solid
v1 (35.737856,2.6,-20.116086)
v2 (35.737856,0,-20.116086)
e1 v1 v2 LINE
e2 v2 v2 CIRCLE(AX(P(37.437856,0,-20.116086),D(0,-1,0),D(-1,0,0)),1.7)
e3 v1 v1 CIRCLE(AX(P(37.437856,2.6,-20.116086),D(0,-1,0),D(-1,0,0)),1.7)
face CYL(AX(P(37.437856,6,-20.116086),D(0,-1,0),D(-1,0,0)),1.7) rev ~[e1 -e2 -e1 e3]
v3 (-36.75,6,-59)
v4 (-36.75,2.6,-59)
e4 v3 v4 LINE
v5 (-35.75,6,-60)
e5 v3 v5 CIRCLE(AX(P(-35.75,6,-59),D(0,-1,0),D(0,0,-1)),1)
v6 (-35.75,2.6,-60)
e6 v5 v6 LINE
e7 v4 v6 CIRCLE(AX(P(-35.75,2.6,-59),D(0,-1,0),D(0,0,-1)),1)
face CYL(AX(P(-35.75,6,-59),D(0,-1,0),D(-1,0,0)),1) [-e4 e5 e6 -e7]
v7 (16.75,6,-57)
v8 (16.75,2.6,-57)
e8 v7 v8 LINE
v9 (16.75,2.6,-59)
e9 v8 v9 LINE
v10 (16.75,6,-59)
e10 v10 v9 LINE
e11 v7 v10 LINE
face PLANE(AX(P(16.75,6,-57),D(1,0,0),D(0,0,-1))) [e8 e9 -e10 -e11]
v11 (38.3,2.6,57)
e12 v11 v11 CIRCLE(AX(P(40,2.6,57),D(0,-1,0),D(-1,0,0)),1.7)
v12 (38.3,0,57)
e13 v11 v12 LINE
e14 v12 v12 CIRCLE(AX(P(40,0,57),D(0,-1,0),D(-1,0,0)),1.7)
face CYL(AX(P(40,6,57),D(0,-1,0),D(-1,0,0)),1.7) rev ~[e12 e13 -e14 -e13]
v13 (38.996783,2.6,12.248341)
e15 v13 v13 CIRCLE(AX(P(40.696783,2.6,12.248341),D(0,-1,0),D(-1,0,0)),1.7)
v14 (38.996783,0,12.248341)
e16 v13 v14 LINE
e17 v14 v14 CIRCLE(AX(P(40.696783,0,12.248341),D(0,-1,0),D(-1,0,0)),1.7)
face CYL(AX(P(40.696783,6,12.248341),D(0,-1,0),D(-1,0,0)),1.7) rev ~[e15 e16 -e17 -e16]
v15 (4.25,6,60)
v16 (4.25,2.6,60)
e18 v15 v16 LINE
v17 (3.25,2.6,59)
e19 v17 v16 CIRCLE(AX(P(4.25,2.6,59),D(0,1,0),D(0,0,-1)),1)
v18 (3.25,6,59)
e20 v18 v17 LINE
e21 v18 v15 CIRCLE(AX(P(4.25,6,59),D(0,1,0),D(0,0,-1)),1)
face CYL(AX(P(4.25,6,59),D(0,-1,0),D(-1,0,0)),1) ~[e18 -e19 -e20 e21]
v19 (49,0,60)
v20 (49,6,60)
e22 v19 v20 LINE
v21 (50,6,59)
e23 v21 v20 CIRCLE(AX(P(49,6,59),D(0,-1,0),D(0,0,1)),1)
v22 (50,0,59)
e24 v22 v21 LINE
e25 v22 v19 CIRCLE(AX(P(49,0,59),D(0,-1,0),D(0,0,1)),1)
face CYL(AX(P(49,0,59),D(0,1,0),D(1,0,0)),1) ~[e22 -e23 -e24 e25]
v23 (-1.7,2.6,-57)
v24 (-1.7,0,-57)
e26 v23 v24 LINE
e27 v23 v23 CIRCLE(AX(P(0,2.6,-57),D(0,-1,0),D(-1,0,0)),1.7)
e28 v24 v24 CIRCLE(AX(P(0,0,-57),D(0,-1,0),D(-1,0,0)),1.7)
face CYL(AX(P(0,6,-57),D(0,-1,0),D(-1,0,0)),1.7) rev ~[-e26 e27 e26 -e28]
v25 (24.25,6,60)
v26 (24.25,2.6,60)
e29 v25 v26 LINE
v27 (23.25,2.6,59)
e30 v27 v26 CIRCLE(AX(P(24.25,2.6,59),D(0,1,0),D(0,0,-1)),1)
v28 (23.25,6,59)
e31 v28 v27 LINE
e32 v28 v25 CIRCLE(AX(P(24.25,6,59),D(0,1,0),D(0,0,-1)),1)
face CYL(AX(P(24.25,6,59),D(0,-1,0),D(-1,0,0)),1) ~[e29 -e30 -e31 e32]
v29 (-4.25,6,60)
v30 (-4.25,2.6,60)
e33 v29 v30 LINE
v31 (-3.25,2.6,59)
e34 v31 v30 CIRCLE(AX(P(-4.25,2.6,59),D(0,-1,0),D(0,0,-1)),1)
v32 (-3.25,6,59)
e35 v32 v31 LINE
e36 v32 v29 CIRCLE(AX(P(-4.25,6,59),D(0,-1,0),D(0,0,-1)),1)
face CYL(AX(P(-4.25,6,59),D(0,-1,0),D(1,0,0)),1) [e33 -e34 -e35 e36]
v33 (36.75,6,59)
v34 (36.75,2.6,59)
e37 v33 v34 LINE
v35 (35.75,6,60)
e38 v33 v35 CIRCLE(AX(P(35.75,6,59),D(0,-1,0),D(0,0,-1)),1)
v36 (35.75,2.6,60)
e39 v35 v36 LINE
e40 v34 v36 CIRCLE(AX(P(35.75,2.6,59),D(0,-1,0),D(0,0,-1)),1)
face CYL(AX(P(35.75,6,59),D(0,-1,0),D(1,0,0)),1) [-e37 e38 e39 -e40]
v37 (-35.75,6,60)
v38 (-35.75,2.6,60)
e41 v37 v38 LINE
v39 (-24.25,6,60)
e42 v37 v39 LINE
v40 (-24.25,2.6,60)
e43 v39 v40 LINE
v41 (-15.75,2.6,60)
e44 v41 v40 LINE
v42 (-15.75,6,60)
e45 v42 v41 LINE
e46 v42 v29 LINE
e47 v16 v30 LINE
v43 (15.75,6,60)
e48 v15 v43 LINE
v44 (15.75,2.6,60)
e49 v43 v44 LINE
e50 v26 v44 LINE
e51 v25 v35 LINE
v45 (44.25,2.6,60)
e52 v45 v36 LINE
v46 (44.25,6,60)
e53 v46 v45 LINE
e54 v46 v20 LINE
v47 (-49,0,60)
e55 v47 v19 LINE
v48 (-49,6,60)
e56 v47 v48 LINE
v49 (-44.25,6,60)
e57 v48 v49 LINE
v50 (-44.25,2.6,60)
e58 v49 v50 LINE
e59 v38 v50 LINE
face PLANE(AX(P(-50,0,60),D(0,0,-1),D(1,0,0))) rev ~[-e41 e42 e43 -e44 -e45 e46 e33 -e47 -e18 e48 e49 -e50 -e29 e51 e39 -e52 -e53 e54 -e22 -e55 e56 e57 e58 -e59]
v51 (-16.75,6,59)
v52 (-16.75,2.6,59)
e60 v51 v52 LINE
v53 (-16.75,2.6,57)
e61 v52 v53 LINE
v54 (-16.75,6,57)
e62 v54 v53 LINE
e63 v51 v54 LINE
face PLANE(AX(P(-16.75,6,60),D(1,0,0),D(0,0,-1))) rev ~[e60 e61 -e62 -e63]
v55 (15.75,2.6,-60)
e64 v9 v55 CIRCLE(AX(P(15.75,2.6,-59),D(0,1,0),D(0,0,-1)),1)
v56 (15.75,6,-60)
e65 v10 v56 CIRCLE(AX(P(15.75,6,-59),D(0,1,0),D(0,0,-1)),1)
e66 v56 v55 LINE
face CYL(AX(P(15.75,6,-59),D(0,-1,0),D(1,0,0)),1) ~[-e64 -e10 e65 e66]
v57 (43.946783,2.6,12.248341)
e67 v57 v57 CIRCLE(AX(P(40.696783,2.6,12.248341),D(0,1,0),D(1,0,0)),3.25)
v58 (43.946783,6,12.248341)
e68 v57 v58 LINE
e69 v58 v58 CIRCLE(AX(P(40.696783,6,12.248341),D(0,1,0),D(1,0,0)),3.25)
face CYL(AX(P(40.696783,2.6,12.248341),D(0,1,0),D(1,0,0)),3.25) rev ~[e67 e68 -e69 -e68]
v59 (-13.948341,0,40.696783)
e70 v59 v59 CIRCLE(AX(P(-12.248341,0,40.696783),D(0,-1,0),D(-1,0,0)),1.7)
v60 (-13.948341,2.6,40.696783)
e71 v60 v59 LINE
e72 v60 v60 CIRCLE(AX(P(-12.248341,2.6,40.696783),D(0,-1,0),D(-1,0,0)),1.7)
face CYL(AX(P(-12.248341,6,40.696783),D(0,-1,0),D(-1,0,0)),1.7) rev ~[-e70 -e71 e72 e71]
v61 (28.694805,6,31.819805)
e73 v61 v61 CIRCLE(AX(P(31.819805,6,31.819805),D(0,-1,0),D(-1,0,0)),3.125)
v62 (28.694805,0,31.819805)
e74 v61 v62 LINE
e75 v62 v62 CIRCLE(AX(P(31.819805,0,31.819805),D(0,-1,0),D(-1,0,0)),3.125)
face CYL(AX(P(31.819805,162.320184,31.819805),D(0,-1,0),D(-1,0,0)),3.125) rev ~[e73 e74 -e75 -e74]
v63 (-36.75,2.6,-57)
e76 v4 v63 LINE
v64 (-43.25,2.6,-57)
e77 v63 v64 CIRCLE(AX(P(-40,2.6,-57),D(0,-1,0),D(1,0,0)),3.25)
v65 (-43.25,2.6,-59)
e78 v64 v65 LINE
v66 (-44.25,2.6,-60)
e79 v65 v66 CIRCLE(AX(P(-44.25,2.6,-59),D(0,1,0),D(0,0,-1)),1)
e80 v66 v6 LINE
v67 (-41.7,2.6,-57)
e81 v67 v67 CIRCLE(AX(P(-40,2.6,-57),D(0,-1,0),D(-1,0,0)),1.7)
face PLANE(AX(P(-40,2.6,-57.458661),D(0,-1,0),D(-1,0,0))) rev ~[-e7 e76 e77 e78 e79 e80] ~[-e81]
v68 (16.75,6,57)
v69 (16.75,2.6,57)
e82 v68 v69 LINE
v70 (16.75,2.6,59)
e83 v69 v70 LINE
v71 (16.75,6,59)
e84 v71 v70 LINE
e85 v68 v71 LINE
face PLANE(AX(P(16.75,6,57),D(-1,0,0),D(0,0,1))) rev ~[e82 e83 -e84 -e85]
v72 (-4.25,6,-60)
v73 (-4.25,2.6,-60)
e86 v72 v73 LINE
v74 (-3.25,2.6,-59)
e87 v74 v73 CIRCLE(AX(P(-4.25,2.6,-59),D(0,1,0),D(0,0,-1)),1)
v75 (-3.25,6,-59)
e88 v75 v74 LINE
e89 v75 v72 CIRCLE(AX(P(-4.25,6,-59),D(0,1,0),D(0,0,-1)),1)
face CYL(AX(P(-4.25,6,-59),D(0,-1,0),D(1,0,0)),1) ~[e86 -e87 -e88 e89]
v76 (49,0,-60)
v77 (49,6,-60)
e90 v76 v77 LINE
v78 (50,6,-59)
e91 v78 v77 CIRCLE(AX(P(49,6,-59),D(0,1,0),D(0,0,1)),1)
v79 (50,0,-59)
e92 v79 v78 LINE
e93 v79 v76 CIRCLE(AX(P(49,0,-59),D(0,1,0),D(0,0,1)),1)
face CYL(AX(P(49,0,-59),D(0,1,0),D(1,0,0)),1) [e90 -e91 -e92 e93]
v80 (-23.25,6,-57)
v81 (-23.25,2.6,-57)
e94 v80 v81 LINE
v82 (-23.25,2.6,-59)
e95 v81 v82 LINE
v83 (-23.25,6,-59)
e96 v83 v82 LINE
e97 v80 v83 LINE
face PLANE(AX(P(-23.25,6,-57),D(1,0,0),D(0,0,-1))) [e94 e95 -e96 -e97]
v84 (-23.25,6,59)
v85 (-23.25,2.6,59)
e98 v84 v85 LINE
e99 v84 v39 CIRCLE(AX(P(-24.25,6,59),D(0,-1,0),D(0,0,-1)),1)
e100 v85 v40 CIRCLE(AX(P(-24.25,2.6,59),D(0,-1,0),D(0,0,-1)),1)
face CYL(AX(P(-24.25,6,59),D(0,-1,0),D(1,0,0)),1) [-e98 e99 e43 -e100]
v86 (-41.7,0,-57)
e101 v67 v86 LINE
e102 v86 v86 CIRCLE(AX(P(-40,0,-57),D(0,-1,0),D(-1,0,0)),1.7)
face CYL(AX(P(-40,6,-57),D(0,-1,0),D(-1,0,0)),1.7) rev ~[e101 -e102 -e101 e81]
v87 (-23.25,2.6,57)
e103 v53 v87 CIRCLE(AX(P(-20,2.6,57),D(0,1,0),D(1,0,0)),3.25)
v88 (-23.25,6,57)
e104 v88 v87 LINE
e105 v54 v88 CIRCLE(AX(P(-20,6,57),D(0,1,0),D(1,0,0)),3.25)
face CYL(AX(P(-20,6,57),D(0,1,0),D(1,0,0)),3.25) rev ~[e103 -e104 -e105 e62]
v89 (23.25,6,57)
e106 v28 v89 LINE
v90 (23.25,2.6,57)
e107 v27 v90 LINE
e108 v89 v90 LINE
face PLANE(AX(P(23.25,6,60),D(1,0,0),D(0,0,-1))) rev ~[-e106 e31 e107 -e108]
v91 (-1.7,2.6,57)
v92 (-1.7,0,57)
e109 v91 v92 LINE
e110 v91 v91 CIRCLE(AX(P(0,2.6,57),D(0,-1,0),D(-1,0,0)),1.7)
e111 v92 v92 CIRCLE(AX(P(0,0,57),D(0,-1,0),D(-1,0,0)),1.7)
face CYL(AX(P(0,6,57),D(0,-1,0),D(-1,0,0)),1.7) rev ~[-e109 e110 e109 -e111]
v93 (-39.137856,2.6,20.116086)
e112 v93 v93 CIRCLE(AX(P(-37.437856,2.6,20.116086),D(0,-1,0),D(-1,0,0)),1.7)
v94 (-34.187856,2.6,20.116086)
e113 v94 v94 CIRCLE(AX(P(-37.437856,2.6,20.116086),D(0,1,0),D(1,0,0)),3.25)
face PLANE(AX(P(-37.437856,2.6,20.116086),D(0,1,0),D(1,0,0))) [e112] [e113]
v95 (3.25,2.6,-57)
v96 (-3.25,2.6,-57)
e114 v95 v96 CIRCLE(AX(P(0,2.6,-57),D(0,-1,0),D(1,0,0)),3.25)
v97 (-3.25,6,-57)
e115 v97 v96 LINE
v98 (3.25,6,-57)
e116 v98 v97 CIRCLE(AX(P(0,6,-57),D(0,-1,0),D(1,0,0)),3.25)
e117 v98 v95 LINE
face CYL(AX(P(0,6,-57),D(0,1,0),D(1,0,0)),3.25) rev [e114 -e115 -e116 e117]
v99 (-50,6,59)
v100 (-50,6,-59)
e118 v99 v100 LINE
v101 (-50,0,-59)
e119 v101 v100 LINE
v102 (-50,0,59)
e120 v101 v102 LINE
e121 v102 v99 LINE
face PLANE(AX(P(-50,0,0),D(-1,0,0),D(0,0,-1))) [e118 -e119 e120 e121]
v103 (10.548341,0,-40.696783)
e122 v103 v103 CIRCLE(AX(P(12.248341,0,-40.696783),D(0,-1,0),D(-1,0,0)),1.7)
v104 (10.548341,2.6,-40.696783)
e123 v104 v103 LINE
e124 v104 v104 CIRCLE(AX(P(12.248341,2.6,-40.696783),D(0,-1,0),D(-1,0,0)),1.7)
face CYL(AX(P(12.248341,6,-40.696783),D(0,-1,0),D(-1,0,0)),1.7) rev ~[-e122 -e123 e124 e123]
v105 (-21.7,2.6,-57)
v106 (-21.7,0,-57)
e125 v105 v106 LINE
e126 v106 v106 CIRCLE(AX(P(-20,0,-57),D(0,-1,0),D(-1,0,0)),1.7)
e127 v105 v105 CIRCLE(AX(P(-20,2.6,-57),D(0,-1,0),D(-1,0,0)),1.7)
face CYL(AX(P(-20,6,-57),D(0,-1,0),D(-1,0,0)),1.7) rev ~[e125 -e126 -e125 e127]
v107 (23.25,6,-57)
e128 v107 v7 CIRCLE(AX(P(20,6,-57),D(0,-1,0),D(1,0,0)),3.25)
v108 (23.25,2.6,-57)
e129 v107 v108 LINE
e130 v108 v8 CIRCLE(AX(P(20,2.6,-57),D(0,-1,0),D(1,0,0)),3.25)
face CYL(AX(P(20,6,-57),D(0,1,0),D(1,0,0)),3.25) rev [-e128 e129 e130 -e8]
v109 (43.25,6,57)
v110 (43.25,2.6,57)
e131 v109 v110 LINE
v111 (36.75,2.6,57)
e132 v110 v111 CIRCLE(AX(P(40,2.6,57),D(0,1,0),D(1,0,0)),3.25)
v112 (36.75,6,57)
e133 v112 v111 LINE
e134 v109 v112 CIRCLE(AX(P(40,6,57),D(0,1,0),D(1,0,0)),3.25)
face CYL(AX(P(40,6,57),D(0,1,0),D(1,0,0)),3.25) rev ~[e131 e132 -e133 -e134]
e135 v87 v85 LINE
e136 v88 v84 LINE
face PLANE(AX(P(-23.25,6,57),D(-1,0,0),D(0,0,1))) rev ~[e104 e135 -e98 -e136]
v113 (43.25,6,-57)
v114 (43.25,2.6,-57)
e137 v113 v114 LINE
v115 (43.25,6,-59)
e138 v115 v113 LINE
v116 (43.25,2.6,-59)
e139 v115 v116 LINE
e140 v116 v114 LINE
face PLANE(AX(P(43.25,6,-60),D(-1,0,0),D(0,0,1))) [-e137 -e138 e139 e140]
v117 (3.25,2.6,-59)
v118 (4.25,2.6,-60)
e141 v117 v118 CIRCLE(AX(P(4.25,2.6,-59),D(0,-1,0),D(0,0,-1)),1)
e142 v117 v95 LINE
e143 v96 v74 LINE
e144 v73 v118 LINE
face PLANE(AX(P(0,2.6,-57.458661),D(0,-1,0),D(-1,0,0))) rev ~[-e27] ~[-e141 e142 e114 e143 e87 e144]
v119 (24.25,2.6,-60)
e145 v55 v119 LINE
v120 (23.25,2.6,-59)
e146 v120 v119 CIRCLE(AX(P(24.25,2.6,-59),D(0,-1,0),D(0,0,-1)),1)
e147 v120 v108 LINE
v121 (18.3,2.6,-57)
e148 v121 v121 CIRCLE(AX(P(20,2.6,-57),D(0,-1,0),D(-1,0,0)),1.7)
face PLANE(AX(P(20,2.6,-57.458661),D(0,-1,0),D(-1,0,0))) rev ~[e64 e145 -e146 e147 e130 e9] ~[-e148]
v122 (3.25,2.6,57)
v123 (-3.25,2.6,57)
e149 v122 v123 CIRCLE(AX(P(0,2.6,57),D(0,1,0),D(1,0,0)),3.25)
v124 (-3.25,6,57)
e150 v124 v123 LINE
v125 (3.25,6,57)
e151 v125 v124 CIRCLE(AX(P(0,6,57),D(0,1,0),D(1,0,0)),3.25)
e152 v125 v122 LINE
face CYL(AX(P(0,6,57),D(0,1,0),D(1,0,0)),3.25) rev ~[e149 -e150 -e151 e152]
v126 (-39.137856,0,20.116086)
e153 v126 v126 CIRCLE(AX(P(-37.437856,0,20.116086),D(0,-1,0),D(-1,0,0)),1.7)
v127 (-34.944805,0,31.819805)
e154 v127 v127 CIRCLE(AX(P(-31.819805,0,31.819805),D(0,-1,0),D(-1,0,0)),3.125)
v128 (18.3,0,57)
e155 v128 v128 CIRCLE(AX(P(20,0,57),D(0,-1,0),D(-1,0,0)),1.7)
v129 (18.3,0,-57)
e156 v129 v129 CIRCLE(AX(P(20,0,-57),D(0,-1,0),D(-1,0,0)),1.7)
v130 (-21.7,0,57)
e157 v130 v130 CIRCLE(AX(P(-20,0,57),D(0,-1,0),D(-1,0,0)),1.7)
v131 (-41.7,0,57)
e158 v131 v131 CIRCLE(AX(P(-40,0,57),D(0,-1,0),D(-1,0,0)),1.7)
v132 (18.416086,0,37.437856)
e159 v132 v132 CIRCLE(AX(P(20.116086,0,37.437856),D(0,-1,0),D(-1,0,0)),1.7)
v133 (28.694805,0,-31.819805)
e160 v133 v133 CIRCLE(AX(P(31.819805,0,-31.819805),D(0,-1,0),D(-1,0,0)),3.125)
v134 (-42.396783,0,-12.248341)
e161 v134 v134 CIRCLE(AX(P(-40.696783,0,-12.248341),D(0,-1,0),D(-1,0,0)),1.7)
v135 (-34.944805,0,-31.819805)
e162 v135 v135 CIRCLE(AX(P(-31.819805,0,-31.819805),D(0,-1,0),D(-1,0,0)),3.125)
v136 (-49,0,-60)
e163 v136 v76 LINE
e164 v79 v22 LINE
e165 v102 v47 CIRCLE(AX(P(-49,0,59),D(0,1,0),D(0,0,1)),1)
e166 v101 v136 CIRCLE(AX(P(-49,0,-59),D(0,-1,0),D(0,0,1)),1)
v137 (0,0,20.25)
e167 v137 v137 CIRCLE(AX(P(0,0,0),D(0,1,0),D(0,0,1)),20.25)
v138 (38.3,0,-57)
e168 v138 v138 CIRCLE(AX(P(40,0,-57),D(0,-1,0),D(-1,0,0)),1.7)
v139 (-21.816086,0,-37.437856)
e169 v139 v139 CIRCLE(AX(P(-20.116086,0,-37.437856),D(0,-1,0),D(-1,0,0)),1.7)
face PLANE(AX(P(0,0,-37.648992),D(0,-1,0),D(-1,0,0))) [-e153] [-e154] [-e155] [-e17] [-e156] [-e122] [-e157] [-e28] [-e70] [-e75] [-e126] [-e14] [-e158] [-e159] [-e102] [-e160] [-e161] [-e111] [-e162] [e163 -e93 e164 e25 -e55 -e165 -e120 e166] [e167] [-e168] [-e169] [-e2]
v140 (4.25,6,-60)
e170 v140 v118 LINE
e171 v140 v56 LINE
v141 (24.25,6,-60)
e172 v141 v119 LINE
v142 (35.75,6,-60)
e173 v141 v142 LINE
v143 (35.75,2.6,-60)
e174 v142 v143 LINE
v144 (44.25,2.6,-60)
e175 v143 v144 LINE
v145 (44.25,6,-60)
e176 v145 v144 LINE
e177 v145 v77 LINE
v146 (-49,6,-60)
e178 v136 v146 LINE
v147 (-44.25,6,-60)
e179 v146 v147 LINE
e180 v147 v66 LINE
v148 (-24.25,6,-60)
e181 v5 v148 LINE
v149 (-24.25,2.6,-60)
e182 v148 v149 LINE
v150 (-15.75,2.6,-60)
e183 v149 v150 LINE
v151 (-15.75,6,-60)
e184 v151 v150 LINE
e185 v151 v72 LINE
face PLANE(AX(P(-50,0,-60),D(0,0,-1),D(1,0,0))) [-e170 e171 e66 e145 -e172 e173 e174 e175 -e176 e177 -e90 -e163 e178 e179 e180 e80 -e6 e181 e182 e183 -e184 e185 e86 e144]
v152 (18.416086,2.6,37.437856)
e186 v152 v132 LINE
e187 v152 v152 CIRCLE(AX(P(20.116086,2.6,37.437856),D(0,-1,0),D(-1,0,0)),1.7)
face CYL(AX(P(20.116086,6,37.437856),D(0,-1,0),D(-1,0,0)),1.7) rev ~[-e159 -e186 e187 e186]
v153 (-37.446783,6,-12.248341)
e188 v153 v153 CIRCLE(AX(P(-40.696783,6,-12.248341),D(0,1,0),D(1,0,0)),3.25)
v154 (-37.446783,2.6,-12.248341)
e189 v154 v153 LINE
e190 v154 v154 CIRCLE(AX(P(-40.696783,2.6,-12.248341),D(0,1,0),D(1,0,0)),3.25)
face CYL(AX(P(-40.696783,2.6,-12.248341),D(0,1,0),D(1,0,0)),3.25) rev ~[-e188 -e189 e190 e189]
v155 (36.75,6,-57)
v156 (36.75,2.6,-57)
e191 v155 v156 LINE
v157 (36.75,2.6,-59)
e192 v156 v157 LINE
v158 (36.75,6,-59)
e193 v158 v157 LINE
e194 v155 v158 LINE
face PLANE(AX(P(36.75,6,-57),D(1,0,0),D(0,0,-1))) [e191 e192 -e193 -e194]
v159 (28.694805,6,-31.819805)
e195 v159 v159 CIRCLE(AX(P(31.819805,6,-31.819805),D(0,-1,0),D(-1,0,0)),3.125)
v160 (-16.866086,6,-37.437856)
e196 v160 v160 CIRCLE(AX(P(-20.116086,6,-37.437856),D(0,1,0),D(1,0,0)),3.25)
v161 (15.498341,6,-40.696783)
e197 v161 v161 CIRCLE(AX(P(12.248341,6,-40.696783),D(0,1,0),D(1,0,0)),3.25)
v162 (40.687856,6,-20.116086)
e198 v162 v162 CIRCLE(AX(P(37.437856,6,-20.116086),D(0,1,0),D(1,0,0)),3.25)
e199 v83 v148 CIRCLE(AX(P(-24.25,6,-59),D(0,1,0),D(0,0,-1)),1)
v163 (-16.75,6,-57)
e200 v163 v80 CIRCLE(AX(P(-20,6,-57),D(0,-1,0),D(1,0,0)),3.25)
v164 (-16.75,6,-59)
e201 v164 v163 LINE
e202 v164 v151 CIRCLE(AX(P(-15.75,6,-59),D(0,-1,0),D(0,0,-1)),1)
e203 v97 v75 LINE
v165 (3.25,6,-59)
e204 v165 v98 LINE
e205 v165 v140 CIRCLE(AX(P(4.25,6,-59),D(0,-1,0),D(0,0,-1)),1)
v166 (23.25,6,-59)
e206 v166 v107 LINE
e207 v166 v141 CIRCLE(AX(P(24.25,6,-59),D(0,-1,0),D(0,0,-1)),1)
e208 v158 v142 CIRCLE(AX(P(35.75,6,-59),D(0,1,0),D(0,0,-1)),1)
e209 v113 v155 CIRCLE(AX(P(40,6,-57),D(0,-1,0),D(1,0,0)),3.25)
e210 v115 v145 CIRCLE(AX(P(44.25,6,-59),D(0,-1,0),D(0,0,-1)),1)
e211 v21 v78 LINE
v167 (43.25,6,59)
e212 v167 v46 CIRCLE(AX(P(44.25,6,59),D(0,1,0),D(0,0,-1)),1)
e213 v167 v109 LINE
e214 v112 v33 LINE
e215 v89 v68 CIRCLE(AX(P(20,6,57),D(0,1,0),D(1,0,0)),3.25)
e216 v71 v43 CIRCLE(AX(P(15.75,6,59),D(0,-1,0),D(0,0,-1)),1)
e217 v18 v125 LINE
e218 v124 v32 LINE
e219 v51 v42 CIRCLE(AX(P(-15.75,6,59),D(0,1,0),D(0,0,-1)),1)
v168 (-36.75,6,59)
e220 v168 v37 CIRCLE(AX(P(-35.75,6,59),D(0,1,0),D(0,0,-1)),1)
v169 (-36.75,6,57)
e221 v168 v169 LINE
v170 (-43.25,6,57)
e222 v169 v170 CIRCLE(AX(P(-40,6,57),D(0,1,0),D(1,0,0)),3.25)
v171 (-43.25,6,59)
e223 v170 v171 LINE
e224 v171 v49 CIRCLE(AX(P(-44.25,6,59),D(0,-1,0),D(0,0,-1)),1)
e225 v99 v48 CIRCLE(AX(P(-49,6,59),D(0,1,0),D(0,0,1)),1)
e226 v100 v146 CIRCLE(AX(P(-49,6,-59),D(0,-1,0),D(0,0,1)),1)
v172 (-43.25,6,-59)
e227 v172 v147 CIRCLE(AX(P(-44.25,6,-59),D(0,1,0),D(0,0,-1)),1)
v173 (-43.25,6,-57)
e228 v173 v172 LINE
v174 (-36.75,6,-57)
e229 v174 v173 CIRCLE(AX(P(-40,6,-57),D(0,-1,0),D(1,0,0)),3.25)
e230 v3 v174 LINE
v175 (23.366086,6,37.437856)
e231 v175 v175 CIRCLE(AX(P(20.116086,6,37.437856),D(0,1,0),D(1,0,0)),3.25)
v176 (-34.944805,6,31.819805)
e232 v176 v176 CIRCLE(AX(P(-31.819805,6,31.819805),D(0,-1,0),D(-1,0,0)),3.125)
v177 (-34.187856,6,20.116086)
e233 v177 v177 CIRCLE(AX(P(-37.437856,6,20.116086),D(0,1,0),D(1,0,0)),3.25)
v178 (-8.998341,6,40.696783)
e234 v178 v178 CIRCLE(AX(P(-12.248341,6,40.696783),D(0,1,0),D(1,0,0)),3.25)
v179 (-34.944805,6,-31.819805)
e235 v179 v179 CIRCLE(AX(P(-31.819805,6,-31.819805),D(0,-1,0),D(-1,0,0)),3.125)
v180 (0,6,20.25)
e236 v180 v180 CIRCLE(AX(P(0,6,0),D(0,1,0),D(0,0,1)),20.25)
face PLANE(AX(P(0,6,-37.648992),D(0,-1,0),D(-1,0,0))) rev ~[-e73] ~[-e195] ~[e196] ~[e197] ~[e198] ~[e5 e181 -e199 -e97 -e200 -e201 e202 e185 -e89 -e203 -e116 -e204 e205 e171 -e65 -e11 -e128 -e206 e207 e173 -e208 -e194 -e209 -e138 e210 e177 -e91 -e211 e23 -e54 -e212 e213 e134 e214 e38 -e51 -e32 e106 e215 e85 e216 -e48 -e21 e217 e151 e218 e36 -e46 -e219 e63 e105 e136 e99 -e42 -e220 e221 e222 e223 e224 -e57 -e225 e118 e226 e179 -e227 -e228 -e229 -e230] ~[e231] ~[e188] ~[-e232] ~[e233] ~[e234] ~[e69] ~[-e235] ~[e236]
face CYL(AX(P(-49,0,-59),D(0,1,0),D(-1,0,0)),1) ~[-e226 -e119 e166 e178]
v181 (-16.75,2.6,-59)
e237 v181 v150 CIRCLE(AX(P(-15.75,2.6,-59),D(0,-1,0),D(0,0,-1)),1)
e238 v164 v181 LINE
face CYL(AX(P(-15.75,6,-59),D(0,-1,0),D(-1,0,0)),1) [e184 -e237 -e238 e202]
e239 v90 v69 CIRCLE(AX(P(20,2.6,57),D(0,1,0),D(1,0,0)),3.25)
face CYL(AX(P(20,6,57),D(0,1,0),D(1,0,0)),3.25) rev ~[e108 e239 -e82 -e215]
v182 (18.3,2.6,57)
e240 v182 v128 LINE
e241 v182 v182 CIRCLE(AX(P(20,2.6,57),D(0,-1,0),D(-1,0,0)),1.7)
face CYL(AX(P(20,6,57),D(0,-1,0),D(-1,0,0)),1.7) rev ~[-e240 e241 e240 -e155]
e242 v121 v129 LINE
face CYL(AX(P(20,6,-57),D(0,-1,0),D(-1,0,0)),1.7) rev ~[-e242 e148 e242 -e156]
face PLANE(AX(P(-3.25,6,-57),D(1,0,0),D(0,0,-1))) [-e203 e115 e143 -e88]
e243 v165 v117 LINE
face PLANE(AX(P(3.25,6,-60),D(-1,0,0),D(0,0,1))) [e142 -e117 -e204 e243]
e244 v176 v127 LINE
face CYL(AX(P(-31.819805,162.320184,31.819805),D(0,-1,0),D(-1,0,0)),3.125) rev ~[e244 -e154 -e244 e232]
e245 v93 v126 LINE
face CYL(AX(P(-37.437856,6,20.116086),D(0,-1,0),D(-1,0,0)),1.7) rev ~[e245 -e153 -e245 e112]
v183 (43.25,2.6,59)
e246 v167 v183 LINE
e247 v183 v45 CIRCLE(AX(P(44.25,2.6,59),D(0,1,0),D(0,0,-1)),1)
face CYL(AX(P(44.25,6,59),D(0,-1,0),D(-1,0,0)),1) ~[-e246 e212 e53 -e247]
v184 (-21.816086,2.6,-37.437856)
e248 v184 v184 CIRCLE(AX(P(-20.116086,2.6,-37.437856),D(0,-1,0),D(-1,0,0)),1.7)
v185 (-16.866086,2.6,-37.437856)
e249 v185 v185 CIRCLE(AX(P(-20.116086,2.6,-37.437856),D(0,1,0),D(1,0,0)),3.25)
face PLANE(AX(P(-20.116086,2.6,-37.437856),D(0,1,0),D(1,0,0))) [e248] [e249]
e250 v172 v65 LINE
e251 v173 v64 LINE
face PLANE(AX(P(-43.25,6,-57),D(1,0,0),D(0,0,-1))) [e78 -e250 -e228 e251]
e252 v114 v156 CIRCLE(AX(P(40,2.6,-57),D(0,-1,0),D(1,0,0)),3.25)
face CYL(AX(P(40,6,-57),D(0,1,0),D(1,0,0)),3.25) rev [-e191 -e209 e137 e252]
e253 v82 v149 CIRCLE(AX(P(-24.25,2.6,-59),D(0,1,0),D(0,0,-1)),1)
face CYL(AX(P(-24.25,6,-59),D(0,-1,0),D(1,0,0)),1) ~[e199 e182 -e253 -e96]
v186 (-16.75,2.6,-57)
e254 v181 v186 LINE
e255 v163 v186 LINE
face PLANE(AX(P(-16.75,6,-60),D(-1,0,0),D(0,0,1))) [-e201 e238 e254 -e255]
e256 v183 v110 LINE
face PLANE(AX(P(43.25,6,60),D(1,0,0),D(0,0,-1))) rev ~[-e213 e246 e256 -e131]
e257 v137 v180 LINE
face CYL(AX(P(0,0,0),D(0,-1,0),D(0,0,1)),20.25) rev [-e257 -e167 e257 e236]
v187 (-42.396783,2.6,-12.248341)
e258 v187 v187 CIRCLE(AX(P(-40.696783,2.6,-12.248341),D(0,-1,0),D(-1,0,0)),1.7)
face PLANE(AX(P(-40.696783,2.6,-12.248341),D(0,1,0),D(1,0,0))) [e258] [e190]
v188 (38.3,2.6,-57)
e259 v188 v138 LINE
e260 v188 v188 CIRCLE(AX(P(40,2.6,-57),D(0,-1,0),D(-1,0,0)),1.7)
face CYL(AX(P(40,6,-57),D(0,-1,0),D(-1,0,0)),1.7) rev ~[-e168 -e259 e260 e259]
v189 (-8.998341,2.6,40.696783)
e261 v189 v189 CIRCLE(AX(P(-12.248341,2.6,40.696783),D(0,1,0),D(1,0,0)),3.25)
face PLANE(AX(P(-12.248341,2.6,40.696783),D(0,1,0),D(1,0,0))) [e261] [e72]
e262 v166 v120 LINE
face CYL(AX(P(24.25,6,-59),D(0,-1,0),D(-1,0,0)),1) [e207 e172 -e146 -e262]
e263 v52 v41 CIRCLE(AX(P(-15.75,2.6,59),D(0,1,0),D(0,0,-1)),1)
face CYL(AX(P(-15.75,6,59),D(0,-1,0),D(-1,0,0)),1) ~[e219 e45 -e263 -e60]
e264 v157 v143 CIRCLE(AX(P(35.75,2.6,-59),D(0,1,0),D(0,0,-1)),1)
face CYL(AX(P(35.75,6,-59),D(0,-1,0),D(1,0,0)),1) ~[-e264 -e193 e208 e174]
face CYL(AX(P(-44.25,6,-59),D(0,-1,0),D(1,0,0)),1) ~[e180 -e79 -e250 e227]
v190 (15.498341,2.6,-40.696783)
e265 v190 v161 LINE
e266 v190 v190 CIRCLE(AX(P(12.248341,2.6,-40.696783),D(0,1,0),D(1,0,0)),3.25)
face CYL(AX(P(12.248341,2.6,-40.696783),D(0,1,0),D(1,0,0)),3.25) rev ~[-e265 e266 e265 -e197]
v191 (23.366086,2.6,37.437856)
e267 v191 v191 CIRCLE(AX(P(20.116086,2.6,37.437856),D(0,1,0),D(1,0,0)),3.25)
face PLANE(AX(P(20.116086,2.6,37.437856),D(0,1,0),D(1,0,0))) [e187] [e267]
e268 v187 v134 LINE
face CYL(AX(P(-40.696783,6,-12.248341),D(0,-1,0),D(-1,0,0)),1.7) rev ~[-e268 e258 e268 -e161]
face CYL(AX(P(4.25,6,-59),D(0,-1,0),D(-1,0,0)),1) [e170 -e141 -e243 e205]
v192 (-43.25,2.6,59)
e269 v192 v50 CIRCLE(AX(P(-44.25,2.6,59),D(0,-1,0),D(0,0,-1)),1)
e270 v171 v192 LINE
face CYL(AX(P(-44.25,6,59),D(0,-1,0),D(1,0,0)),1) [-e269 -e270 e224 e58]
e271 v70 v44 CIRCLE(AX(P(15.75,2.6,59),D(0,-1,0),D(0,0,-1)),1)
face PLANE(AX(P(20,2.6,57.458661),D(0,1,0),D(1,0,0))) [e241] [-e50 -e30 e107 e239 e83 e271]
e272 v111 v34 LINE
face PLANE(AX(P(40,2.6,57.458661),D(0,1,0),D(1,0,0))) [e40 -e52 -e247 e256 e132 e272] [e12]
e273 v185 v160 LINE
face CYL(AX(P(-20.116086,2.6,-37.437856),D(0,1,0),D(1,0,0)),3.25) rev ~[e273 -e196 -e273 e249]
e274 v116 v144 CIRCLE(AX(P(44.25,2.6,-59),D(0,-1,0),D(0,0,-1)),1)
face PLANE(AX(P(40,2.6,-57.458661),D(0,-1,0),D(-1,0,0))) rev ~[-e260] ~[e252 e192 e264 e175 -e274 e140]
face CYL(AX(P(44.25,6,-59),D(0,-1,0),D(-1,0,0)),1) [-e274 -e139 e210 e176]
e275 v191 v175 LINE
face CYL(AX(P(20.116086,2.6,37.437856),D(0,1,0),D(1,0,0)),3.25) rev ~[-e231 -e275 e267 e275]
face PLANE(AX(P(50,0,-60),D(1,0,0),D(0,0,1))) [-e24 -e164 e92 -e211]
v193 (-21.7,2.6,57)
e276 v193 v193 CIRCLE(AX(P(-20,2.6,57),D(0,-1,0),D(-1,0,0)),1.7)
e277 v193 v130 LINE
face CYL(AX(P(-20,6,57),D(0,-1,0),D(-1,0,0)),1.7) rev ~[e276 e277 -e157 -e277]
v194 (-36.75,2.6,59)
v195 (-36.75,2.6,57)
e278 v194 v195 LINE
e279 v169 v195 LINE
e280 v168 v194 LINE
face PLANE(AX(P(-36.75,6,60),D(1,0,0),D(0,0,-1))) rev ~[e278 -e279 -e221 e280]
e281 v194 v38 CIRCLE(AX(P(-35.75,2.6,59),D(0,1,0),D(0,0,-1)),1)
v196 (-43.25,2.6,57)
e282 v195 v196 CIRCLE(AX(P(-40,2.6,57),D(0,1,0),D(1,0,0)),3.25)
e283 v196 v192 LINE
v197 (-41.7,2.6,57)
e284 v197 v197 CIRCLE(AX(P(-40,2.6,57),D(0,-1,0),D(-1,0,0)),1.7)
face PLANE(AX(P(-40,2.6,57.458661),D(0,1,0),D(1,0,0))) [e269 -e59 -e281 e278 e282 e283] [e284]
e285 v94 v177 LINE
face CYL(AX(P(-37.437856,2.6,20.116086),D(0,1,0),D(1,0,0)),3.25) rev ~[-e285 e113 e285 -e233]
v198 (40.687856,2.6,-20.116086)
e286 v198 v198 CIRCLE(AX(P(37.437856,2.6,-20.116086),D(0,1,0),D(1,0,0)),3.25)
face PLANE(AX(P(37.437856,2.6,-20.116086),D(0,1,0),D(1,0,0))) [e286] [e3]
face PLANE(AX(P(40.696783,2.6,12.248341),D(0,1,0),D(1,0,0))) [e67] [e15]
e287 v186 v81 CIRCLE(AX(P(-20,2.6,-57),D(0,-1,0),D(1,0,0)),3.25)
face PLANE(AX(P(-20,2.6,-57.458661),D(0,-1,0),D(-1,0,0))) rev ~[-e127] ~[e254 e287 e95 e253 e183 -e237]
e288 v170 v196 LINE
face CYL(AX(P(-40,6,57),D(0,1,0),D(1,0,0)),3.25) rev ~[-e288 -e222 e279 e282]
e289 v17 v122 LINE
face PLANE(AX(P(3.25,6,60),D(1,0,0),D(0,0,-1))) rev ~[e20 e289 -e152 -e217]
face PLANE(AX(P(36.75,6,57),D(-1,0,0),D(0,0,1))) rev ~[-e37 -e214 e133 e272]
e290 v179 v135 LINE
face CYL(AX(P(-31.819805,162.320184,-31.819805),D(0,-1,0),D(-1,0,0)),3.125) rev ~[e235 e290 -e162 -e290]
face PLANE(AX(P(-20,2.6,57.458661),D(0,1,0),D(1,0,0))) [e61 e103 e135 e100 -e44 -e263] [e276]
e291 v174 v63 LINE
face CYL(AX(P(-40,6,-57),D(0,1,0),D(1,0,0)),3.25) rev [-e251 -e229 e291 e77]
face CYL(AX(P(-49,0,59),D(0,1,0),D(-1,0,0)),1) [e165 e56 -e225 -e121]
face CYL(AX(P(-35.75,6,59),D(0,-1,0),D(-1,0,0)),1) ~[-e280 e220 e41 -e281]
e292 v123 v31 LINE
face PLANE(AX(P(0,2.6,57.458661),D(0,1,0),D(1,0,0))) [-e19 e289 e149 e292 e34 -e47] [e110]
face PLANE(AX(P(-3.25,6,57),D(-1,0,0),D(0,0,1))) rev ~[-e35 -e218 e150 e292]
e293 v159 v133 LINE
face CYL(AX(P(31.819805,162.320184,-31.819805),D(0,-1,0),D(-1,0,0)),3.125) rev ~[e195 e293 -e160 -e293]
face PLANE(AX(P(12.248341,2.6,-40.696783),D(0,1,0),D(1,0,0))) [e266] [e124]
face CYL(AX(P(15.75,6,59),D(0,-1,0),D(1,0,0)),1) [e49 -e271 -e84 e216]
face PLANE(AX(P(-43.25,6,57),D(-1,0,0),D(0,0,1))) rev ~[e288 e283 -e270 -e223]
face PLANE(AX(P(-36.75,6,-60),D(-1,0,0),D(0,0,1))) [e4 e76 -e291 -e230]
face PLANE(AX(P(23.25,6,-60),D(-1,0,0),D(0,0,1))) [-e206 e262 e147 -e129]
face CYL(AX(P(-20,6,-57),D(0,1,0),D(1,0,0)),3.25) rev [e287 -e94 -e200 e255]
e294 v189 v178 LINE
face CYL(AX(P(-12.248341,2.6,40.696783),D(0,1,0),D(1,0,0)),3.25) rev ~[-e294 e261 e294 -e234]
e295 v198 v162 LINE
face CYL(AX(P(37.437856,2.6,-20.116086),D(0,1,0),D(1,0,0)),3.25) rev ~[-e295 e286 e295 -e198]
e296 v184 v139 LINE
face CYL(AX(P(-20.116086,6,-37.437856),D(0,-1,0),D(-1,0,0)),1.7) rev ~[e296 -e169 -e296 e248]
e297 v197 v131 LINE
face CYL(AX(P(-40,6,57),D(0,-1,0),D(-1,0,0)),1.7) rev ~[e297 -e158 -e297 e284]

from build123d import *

# Parameters (mm, degrees)
SKETCH1_R                                           = 50
SKETCH1_R_2                                         = 20.25
BOSS_EXTRUDE1_DEPTH                                 = 6
CBORE_FOR_M3_HEX_SOCKET_HEAD_CAP_SCREW2_D           = 3.4
CBORE_FOR_M3_HEX_SOCKET_HEAD_CAP_SCREW2_CBORE_D     = 6.5
CBORE_FOR_M3_HEX_SOCKET_HEAD_CAP_SCREW2_CBORE_DEPTH = 3.4
BOSS_EXTRUDE2_START                                 = -6
BOSS_EXTRUDE2_DEPTH                                 = 6
BOSS_EXTRUDE3_START                                 = -6
BOSS_EXTRUDE3_DEPTH                                 = 6
CBORE_FOR_M3_HEX_SOCKET_HEAD_CAP_SCREW1_D           = 3.4
CBORE_FOR_M3_HEX_SOCKET_HEAD_CAP_SCREW1_CBORE_D     = 6.5
CBORE_FOR_M3_HEX_SOCKET_HEAD_CAP_SCREW1_CBORE_DEPTH = 3.4
CUT_EXTRUDE1_DEPTH                                  = 3.4
FILLET1_R                                           = 1
TAP_DRILL_FOR_M6_HELICOIL1_D                        = 6.25


with BuildPart() as part:
    # Sketch1 → Boss-Extrude1 (new body)
    with BuildSketch(Plane(origin=(0, 0, 0), x_dir=(1, 0, 0), z_dir=(0, 1, 0))):
        with Locations(Location((0, 0, 0), (0, 0, 270))):
            Circle(SKETCH1_R)
        with Locations(Location((0, 0, 0), (0, 0, 270))):
            Circle(SKETCH1_R_2, mode=Mode.SUBTRACT)
    extrude(amount=BOSS_EXTRUDE1_DEPTH)

    # CBORE for M3 Hex Socket Head Cap Screw2 (through all)
    with Locations(Plane(origin=(0, 6, 0), x_dir=(1, 0, 0), z_dir=(0, 1, 0))):
        with Locations((-40.696782834, 12.248341396), (-20.116085855, 37.437856374), (12.248341396, 40.696782834), (37.437856374, 20.116085855), (40.696782834, -12.248341396), (20.116085855, -37.437856374), (-12.248341396, -40.696782834), (-37.437856374, -20.116085855)):
            CounterBoreHole(CBORE_FOR_M3_HEX_SOCKET_HEAD_CAP_SCREW2_D / 2, CBORE_FOR_M3_HEX_SOCKET_HEAD_CAP_SCREW2_CBORE_D / 2, CBORE_FOR_M3_HEX_SOCKET_HEAD_CAP_SCREW2_CBORE_DEPTH)

    # Sketch6 → Boss-Extrude2 (add)
    with BuildSketch(Plane(origin=(0, 6, 0), x_dir=(1, 0, 0), z_dir=(0, 1, 0)).offset(BOSS_EXTRUDE2_START)):
        with BuildLine():
            Line((-50, 0), (-50, -60))
            Line((-50, -60), (50, -60))
            Line((50, -60), (50, 0))
            ThreePointArc((50, 0), (0, -50), (-50, 0))
        make_face()
    extrude(amount=BOSS_EXTRUDE2_DEPTH)

    # Sketch10 → Boss-Extrude3 (add)
    with BuildSketch(Plane(origin=(0, 6, 0), x_dir=(1, 0, 0), z_dir=(0, 1, 0)).offset(BOSS_EXTRUDE3_START)):
        with BuildLine():
            Line((-50, 0), (-50, 60))
            Line((-50, 60), (50, 60))
            Line((50, 60), (50, 0))
            ThreePointArc((50, 0), (0, 50), (-50, 0))
        make_face()
    extrude(amount=BOSS_EXTRUDE3_DEPTH)

    # CBORE for M3 Hex Socket Head Cap Screw1 (through all)
    with Locations(Plane(origin=(0, 6, 0), x_dir=(1, 0, 0), z_dir=(0, 1, 0))):
        with Locations((-40, 57), (-20, 57), (0, 57), (20, 57), (40, 57), (40, -57), (20, -57), (0, -57), (-20, -57), (-40, -57)):
            CounterBoreHole(CBORE_FOR_M3_HEX_SOCKET_HEAD_CAP_SCREW1_D / 2, CBORE_FOR_M3_HEX_SOCKET_HEAD_CAP_SCREW1_CBORE_D / 2, CBORE_FOR_M3_HEX_SOCKET_HEAD_CAP_SCREW1_CBORE_DEPTH)

    # Sketch13 → Cut-Extrude1 (cut)
    with BuildSketch(Plane(origin=(0, 6, 0), x_dir=(1, 0, 0), z_dir=(0, 1, 0))):
        with BuildLine():
            Line((-43.25, 57), (-43.25, 60))
            Line((-43.25, 60), (-36.75, 60))
            Line((-36.75, 60), (-36.75, 57))
            ThreePointArc((-36.75, 57), (-40, 53.75), (-43.25, 57))
        make_face()
        with BuildLine():
            Line((-23.25, 57), (-23.25, 60))
            Line((-23.25, 60), (-16.75, 60))
            Line((-16.75, 60), (-16.75, 57))
            ThreePointArc((-16.75, 57), (-20, 53.75), (-23.25, 57))
        make_face()
        with BuildLine():
            Line((-3.25, 57), (-3.25, 60))
            Line((-3.25, 60), (3.25, 60))
            Line((3.25, 60), (3.25, 57))
            ThreePointArc((3.25, 57), (0, 53.75), (-3.25, 57))
        make_face()
        with BuildLine():
            Line((16.75, 57), (16.75, 60))
            Line((16.75, 60), (23.25, 60))
            Line((23.25, 60), (23.25, 57))
            ThreePointArc((23.25, 57), (20, 53.75), (16.75, 57))
        make_face()
        with BuildLine():
            Line((36.75, 57), (36.75, 60))
            Line((36.75, 60), (43.25, 60))
            Line((43.25, 60), (43.25, 57))
            ThreePointArc((43.25, 57), (40, 53.75), (36.75, 57))
        make_face()
        with BuildLine():
            Line((43.25, -60), (43.25, -57))
            ThreePointArc((43.25, -57), (40, -53.75), (36.75, -57))
            Line((36.75, -57), (36.75, -60))
            Line((36.75, -60), (43.25, -60))
        make_face()
        with BuildLine():
            Line((23.25, -60), (23.25, -57))
            ThreePointArc((23.25, -57), (20, -53.75), (16.75, -57))
            Line((16.75, -57), (16.75, -60))
            Line((16.75, -60), (23.25, -60))
        make_face()
        with BuildLine():
            Line((3.25, -60), (3.25, -57))
            ThreePointArc((3.25, -57), (0, -53.75), (-3.25, -57))
            Line((-3.25, -57), (-3.25, -60))
            Line((-3.25, -60), (3.25, -60))
        make_face()
        with BuildLine():
            Line((-16.75, -60), (-16.75, -57))
            ThreePointArc((-16.75, -57), (-20, -53.75), (-23.25, -57))
            Line((-23.25, -57), (-23.25, -60))
            Line((-23.25, -60), (-16.75, -60))
        make_face()
        with BuildLine():
            Line((-36.75, -60), (-36.75, -57))
            ThreePointArc((-36.75, -57), (-40, -53.75), (-43.25, -57))
            Line((-43.25, -57), (-43.25, -60))
            Line((-43.25, -60), (-36.75, -60))
        make_face()
    extrude(amount=-CUT_EXTRUDE1_DEPTH, mode=Mode.SUBTRACT)

    # Fillet1
    fillet1_edges = [part.edges().sort_by_distance(p)[0] for p in [
        (-36.75, 4.3, 60),
        (-43.25, 4.3, 60),
        (-16.75, 4.3, 60),
        (-23.25, 4.3, 60),
        (3.25, 4.3, 60),
        (-3.25, 4.3, 60),
        (23.25, 4.3, 60),
        (16.75, 4.3, 60),
        (43.25, 4.3, 60),
        (36.75, 4.3, 60),
        (36.75, 4.3, -60),
        (43.25, 4.3, -60),
        (16.75, 4.3, -60),
        (23.25, 4.3, -60),
        (-3.25, 4.3, -60),
        (3.25, 4.3, -60),
        (-23.25, 4.3, -60),
        (-16.75, 4.3, -60),
        (-43.25, 4.3, -60),
        (-36.75, 4.3, -60),
        (50, 3, 60),
        (-50, 3, 60),
        (-50, 3, -60),
        (50, 3, -60),
    ]]
    fillet(fillet1_edges, radius=FILLET1_R)

    # Tap Drill for M6 Helicoil1 (through all)
    with Locations(Plane(origin=(0, 6, 0), x_dir=(1, 0, 0), z_dir=(0, 1, 0))):
        with Locations((31.819805153, -31.819805153), (31.819805153, 31.819805153), (-31.819805153, -31.819805153), (-31.819805153, 31.819805153), (0, 0)):
            Hole(TAP_DRILL_FOR_M6_HELICOIL1_D / 2)


solid = part.part
